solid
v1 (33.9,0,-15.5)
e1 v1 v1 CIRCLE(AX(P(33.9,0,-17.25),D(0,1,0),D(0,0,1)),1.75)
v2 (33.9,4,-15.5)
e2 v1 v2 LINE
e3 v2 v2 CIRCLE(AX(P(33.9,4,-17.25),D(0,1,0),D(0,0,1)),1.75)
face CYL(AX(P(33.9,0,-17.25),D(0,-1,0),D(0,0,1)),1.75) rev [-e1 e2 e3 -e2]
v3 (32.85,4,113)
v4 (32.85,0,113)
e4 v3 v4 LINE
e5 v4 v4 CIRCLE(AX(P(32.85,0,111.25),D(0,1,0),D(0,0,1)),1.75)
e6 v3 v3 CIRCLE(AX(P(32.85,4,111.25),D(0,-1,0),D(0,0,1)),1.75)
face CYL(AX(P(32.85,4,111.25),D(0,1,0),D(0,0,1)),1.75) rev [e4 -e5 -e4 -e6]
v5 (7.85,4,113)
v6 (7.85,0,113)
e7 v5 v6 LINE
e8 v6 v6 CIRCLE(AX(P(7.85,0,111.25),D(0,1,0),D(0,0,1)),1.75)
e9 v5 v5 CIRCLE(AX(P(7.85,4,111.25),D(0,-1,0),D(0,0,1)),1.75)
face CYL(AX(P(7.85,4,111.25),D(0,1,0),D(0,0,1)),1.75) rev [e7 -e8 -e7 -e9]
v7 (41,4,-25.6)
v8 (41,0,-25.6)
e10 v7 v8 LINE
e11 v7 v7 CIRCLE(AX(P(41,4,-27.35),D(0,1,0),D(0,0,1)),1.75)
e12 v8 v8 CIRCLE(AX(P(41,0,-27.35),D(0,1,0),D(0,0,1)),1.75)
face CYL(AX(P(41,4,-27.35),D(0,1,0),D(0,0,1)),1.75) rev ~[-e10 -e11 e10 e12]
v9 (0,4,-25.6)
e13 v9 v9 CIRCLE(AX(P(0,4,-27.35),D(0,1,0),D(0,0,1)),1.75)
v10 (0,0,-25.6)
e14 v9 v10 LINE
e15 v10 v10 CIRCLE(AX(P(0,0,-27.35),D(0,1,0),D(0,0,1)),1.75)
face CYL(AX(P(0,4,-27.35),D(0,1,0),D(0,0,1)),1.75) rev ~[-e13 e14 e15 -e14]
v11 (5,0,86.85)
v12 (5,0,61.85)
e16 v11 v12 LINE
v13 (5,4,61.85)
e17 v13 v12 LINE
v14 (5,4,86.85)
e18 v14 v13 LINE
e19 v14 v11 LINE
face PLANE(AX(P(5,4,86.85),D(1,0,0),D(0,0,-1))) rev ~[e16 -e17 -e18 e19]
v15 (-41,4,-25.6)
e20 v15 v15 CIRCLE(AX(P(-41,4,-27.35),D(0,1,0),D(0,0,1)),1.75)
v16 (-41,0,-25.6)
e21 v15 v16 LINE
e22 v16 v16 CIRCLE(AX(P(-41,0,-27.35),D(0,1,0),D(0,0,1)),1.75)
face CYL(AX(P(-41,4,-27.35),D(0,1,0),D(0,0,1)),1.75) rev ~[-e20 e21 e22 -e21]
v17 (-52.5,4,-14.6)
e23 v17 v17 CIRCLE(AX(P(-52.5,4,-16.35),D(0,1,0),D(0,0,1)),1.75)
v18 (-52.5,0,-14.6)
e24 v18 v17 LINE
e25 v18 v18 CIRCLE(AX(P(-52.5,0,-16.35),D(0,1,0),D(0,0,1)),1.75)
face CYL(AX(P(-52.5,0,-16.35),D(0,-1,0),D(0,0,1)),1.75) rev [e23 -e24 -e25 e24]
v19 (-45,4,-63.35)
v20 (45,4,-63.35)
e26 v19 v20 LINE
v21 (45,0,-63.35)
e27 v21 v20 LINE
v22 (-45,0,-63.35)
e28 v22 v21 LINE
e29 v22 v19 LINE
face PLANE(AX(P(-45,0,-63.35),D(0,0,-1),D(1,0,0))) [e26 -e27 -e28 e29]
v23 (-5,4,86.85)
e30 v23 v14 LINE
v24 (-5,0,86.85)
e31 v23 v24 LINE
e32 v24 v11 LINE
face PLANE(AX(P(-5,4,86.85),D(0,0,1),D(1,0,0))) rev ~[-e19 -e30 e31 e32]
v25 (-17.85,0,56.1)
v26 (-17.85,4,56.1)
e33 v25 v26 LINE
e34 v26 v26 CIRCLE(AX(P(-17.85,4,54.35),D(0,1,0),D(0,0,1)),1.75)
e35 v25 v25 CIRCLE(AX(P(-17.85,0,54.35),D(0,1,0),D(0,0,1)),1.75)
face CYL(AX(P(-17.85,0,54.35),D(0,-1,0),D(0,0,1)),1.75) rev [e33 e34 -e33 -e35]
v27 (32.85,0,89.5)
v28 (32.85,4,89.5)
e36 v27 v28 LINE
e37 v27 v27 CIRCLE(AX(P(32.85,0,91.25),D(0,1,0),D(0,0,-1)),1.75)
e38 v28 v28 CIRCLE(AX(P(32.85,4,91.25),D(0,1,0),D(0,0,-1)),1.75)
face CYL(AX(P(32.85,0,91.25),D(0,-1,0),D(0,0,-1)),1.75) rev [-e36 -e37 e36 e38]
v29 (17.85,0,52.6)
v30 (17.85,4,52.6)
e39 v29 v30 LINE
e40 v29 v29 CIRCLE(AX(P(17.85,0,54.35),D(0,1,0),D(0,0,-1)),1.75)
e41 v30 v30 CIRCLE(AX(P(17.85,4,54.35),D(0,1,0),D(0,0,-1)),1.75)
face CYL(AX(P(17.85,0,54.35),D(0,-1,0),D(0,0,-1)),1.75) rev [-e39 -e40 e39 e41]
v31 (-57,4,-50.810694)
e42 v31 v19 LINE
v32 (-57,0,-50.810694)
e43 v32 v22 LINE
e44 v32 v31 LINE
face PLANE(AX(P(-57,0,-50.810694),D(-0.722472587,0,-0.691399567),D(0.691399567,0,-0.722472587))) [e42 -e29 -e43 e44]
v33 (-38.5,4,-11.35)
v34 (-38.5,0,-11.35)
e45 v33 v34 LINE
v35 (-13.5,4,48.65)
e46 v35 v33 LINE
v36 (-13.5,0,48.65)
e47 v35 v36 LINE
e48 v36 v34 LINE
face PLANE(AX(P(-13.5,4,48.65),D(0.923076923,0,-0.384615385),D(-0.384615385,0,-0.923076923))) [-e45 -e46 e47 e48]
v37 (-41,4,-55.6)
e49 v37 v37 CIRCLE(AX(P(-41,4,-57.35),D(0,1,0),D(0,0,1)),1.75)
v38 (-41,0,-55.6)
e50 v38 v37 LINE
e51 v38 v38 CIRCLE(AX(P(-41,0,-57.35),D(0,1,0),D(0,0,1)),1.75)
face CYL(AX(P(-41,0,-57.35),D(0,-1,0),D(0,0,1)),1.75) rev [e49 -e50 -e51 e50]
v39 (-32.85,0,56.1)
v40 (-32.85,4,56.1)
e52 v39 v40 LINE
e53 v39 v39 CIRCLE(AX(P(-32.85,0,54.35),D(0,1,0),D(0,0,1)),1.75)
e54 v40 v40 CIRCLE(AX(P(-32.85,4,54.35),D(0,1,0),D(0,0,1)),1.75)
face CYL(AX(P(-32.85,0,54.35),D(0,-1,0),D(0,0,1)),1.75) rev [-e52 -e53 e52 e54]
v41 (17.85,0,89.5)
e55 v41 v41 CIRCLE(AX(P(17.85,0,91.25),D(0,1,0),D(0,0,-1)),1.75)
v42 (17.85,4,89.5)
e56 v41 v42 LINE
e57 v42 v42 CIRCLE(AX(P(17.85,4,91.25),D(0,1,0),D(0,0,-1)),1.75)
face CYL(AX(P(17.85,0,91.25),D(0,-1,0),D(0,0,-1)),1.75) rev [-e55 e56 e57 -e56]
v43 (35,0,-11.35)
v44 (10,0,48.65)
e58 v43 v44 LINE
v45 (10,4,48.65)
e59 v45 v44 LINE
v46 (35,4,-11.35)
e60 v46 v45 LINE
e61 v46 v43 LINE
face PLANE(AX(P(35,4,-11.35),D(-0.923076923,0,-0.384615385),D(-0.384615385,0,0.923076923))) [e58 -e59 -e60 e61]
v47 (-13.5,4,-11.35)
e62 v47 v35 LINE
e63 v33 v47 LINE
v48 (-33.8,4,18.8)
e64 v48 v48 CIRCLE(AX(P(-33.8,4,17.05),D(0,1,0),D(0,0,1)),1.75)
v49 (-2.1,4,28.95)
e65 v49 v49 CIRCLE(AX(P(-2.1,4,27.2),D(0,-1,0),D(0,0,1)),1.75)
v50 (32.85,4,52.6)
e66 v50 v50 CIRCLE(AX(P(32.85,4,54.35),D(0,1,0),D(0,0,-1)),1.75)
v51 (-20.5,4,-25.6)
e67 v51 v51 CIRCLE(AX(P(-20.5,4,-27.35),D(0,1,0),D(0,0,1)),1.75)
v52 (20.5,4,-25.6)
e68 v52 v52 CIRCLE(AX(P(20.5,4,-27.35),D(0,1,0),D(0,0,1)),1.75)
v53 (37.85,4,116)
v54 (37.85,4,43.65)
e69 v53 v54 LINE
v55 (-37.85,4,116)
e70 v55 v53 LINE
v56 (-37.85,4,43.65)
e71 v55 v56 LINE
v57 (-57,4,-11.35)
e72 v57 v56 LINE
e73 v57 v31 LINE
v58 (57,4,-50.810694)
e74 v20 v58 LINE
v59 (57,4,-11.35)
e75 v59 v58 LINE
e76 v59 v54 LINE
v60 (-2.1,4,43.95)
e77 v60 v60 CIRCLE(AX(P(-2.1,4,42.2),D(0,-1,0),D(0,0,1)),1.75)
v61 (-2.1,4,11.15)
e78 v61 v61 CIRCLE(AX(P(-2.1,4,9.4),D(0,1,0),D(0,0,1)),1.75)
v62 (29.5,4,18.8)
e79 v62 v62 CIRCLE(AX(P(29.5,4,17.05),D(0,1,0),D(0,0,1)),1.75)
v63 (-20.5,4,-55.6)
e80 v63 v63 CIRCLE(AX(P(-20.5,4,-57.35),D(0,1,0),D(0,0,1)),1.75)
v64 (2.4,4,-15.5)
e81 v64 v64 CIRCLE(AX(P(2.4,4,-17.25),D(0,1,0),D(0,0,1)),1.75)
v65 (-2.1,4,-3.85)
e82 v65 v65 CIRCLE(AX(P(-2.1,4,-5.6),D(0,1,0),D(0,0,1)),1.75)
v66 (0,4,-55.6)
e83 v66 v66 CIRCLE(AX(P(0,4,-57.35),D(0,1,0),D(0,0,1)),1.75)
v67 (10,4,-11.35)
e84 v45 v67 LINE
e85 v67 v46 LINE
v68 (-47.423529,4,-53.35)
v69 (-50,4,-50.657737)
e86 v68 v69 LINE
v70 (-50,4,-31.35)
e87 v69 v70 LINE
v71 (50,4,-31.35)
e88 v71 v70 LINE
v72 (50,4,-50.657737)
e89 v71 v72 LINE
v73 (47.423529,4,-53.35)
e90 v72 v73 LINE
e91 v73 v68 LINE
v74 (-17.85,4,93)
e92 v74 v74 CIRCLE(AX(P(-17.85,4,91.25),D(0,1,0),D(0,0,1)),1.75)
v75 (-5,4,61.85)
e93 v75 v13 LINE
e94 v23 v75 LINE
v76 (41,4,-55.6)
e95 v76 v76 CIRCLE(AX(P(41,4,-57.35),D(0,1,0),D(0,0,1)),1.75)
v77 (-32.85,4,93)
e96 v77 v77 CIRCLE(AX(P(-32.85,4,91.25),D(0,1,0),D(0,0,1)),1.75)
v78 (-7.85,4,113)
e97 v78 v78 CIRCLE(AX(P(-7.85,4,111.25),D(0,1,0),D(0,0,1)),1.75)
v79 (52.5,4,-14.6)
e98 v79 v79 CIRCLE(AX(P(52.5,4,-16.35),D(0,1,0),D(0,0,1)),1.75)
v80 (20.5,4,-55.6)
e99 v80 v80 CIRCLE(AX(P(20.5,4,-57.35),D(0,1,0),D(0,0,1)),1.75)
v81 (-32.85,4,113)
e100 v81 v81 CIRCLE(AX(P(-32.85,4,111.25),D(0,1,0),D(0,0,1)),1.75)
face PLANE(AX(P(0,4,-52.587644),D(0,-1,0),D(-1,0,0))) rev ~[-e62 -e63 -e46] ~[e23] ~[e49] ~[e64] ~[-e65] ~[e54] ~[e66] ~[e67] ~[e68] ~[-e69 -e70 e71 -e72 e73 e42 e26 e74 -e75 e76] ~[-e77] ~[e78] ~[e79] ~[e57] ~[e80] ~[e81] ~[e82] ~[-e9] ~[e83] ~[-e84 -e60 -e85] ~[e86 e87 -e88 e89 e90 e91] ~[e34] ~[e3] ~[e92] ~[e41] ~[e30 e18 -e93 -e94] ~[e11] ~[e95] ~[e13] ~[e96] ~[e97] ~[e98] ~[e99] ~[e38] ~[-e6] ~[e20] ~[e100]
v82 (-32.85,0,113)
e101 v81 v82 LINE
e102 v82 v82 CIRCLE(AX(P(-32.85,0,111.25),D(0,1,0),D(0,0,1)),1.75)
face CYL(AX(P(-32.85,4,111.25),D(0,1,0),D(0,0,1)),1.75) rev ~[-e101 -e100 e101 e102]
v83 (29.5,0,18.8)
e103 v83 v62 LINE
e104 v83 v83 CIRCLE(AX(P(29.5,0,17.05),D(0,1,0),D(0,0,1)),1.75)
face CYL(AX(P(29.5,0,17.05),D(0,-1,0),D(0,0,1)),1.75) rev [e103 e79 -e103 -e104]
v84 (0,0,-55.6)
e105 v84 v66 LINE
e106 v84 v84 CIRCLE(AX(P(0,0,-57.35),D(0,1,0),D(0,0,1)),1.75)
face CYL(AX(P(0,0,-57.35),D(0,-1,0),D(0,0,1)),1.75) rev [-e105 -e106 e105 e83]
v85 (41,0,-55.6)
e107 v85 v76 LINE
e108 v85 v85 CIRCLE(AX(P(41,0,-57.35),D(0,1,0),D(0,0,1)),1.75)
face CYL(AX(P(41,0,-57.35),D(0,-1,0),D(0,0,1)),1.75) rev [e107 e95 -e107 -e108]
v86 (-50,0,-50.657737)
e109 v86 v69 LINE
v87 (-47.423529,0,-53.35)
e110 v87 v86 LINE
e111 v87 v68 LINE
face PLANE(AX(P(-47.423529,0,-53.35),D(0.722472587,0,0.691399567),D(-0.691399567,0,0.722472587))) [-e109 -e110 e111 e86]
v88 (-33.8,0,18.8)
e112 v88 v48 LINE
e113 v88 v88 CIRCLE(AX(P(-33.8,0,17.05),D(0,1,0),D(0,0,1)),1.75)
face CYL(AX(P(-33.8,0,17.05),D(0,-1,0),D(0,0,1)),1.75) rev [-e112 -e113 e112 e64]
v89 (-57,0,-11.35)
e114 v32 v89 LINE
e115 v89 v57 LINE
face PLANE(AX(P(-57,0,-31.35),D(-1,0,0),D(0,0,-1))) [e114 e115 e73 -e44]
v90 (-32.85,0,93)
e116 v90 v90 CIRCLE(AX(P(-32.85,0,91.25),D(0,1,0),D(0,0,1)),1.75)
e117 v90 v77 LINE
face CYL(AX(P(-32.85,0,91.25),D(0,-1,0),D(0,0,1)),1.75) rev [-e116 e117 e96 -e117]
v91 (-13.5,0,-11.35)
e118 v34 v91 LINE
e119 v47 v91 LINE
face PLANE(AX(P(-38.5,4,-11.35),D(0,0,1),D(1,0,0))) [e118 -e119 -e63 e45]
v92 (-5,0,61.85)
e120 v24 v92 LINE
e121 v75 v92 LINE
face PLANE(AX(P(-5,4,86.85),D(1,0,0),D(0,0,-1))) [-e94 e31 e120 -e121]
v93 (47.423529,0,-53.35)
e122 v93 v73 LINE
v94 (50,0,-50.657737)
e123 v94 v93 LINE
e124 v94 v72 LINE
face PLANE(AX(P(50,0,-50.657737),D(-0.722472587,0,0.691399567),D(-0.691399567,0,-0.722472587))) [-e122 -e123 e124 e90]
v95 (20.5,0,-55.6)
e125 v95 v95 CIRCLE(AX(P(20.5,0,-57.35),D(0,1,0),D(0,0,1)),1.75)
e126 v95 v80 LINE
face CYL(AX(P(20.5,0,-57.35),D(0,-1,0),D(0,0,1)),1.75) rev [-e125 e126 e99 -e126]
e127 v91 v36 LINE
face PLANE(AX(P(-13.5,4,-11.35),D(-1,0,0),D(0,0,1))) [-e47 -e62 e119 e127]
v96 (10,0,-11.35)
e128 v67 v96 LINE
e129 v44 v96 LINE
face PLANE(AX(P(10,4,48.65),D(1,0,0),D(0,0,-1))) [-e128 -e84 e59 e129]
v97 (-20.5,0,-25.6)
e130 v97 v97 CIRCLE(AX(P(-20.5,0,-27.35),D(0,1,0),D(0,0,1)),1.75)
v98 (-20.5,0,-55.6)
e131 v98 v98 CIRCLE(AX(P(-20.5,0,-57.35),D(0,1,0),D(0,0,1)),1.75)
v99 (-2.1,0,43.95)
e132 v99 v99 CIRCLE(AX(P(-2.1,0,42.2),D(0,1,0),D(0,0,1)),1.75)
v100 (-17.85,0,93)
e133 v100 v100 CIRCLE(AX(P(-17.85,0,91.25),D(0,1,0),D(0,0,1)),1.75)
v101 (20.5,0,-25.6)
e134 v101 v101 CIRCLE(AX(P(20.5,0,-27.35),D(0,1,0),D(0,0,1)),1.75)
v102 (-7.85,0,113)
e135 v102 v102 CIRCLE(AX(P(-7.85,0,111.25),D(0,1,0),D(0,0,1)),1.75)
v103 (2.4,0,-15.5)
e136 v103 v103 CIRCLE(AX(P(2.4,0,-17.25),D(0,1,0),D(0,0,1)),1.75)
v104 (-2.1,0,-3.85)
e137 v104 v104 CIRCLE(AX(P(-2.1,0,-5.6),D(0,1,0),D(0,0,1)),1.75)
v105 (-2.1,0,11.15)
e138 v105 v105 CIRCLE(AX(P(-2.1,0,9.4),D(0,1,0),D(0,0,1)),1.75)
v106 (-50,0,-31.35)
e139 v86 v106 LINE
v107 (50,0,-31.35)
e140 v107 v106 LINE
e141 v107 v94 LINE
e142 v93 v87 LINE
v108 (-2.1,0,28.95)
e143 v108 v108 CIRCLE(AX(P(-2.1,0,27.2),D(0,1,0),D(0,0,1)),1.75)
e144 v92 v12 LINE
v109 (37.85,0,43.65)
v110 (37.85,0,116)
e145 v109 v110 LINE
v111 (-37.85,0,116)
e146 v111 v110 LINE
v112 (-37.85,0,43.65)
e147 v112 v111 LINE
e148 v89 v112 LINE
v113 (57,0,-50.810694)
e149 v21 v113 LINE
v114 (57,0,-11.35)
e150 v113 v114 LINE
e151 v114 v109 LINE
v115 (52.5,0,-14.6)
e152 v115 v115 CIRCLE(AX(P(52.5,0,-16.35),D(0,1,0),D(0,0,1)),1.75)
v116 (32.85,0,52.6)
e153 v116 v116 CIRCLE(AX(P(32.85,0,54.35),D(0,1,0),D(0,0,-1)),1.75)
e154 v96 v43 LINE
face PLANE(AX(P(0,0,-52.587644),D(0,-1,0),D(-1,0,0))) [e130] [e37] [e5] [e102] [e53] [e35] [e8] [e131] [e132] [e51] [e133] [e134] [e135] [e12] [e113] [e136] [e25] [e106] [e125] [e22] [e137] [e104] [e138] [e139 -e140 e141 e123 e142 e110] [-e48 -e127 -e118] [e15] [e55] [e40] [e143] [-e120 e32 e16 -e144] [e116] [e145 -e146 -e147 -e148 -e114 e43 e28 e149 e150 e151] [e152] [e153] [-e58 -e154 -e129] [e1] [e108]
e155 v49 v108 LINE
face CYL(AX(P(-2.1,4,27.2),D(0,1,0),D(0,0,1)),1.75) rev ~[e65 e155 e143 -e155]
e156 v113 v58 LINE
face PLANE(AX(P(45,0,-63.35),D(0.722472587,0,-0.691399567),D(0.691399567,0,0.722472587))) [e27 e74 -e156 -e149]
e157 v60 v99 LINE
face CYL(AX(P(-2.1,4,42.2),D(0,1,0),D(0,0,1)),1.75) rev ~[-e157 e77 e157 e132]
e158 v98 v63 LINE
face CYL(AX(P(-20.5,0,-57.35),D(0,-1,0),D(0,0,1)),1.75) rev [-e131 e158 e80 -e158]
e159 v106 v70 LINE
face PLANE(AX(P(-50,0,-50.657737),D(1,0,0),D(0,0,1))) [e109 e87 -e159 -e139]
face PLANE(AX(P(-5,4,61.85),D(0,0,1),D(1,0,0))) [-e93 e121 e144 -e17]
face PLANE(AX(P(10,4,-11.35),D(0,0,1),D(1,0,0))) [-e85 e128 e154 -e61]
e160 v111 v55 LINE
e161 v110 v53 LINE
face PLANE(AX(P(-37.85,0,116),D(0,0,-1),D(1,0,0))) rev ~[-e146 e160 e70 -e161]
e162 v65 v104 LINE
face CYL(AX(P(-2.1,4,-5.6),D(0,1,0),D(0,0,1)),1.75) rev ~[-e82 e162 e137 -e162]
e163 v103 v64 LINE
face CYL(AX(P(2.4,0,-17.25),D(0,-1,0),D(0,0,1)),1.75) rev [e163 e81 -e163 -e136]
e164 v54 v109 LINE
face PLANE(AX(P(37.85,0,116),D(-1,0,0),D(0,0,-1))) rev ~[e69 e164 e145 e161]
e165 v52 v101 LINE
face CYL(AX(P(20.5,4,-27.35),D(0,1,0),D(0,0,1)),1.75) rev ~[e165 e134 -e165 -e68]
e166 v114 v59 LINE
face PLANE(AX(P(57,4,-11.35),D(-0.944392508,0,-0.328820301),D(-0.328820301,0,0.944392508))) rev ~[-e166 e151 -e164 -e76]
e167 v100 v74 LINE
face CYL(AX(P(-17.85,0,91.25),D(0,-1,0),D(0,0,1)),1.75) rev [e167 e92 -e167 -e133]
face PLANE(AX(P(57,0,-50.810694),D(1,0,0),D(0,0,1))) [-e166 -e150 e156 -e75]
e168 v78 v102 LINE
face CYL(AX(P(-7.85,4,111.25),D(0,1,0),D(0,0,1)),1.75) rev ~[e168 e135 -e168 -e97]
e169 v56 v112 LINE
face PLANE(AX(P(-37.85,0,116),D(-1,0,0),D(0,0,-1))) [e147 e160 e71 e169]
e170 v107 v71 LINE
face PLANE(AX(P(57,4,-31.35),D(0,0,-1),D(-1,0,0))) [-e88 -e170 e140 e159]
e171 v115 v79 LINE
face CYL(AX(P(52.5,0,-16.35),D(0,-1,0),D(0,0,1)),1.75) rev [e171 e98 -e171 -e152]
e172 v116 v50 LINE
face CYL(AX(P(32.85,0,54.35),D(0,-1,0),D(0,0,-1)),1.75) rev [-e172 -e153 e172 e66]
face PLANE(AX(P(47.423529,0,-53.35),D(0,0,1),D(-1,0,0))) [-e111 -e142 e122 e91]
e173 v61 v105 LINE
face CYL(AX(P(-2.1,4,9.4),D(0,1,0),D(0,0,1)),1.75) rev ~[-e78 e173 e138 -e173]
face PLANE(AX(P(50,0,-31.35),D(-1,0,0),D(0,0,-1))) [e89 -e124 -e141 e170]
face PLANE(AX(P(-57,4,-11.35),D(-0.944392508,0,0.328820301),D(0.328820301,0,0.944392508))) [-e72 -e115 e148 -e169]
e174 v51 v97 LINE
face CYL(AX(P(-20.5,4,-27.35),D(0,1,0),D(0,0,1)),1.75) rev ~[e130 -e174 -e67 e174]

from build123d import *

# Parameters (mm, degrees)
SKETCH1_W           = 75.7
SKETCH1_H           = 42.7
SKETCH1_R           = 1.75
BOSS_EXTRUDE1_DEPTH = 4
SKETCH3_W           = 75.7
SKETCH3_H           = 29.75
SKETCH3_R           = 1.75
BOSS_EXTRUDE2_DEPTH = 4
SKETCH3_3_R         = 1.75
CUT_EXTRUDE1_DEPTH  = 4
SKETCH4_W           = 75.7
SKETCH4_H           = 43.4
SKETCH4_R           = 1.75
BOSS_EXTRUDE3_DEPTH = 4
BOSS_EXTRUDE4_DEPTH = 4
SKETCH6_3_R         = 1.75
CUT_EXTRUDE2_DEPTH  = 111.432105839
SKETCH7_W           = 19.15
SKETCH7_H           = 10
SKETCH7_R           = 1.75
BOSS_EXTRUDE5_DEPTH = 4
SKETCH8_W           = 75.7
SKETCH8_H           = 21.5
BOSS_EXTRUDE6_DEPTH = 4
SKETCH9_R           = 1.75
CUT_EXTRUDE3_DEPTH  = 130.309705746
BOSS_EXTRUDE7_DEPTH = 4
CUT_EXTRUDE4_DEPTH  = 4
SKETCH12_W          = 10
SKETCH12_H          = 25
CUT_EXTRUDE5_DEPTH  = 10
SKETCH13_R          = 1.75
BOSS_EXTRUDE8_DEPTH = 4


with BuildPart() as part:
    # Sketch1 → Boss-Extrude1 (new body)
    with BuildSketch(Plane(origin=(0, 0, 0), x_dir=(1, 0, 0), z_dir=(0, 1, 0))):
        Rectangle(SKETCH1_W, SKETCH1_H)
        with Locations(Location((2.4, 17.25, 0), (0, 0, 270))):
            Circle(SKETCH1_R, mode=Mode.SUBTRACT)
        with Locations(Location((-33.8, -17.05, 0), (0, 0, 270))):
            Circle(SKETCH1_R, mode=Mode.SUBTRACT)
        with Locations(Location((29.5, -17.05, 0), (0, 0, 270))):
            Circle(SKETCH1_R, mode=Mode.SUBTRACT)
        with Locations(Location((33.9, 17.25, 0), (0, 0, 270))):
            Circle(SKETCH1_R, mode=Mode.SUBTRACT)
    extrude(amount=BOSS_EXTRUDE1_DEPTH)

    # Sketch3 → Boss-Extrude2 (add)
    # profile 1 of 2: a face of its own
    with BuildSketch(Plane(origin=(0, 4, 0), x_dir=(1, 0, 0), z_dir=(0, 1, 0))):
        with Locations((0, -36.225)):
            Rectangle(SKETCH3_W, SKETCH3_H)
        with Locations(Location((-2.1, -42.2, 0), (0, 0, 270))):
            Circle(SKETCH3_R, mode=Mode.SUBTRACT)
        with Locations(Location((-2.1, -27.2, 0), (0, 0, 270))):
            Circle(SKETCH3_R, mode=Mode.SUBTRACT)
    # profile 2 of 2: a face of its own
    with BuildSketch(Plane(origin=(0, 4, 0), x_dir=(1, 0, 0), z_dir=(0, 1, 0))):
        with BuildLine():
            Line((-2.1, -25.45), (-2.1, -21.35))
            Line((-2.1, -21.35), (-37.85, -21.35))
            Line((-37.85, -21.35), (-37.85, -51.1))
            Line((-37.85, -51.1), (-2.1, -51.1))
            Line((-2.1, -51.1), (-2.1, -43.95))
            ThreePointArc((-2.1, -43.95), (-3.85, -42.2), (-2.1, -40.45))
            Line((-2.1, -40.45), (-2.1, -28.95))
            ThreePointArc((-2.1, -28.95), (-3.85, -27.2), (-2.1, -25.45))
        make_face()
    extrude(amount=-BOSS_EXTRUDE2_DEPTH)

    # Sketch3<3> → Cut-Extrude1 (cut)
    with BuildSketch(Plane(origin=(0, 4, 0), x_dir=(1, 0, 0), z_dir=(0, 1, 0))):
        with Locations(Location((-2.1, 5.6, 0), (0, 0, 270))):
            Circle(SKETCH3_3_R)
        with Locations(Location((-2.1, -9.4, 0), (0, 0, 270))):
            Circle(SKETCH3_3_R)
    extrude(amount=-CUT_EXTRUDE1_DEPTH, mode=Mode.SUBTRACT)

    # Sketch4 → Boss-Extrude3 (add)
    # profile 1 of 2: a face of its own
    with BuildSketch(Plane(origin=(0, 0, 0), x_dir=(1, 0, 0), z_dir=(0, 1, 0))):
        with Locations((0, -72.8)):
            Rectangle(SKETCH4_W, SKETCH4_H)
        with Locations(Location((-32.85, -54.35, 0), (0, 0, 270))):
            Circle(SKETCH4_R, mode=Mode.SUBTRACT)
        with Locations(Location((-17.85, -54.35, 0), (0, 0, 270))):
            Circle(SKETCH4_R, mode=Mode.SUBTRACT)
        with Locations(Location((-17.85, -91.25, 0), (0, 0, 270))):
            Circle(SKETCH4_R, mode=Mode.SUBTRACT)
        with Locations(Location((-32.85, -91.25, 0), (0, 0, 270))):
            Circle(SKETCH4_R, mode=Mode.SUBTRACT)
        with Locations(Location((32.85, -91.25, 0), (0, 0, 90))):
            Circle(SKETCH4_R, mode=Mode.SUBTRACT)
        with Locations(Location((17.85, -91.25, 0), (0, 0, 90))):
            Circle(SKETCH4_R, mode=Mode.SUBTRACT)
        with Locations(Location((17.85, -54.35, 0), (0, 0, 90))):
            Circle(SKETCH4_R, mode=Mode.SUBTRACT)
        with Locations(Location((32.85, -54.35, 0), (0, 0, 90))):
            Circle(SKETCH4_R, mode=Mode.SUBTRACT)
    # profile 2 of 2: a face of its own
    with BuildSketch(Plane(origin=(0, 0, 0), x_dir=(1, 0, 0), z_dir=(0, 1, 0))):
        Polygon((-37.85, 21.35), (-44, 21.35), (-44, 29.35), (44, 29.35), (44, 21.35), (37.85, 21.35), align=None)
    extrude(amount=BOSS_EXTRUDE3_DEPTH)

    # Sketch6 → Boss-Extrude4 (add)
    with BuildSketch(Plane(origin=(0, 4, 0), x_dir=(1, 0, 0), z_dir=(0, 1, 0))):
        Polygon((-57, 31.35), (-57, 29.35), (-57, 21.35), (-44, 21.35), (-44, 26.251387819), (-44, 29.35), (44, 29.35), (44, 26.251387819), (44, 21.35), (57, 21.35), (57, 29.35), (57, 31.35), align=None)
    extrude(amount=-BOSS_EXTRUDE4_DEPTH)

    # Sketch6<3> → Cut-Extrude2 (cut, through all)
    with BuildSketch(Plane(origin=(0, 4, 0), x_dir=(1, 0, 0), z_dir=(0, 1, 0))):
        with Locations(Location((0, 27.35, 0), (0, 0, 270))):
            Circle(SKETCH6_3_R)
        with Locations(Location((20.5, 27.35, 0), (0, 0, 270))):
            Circle(SKETCH6_3_R)
        with Locations(Location((41, 27.35, 0), (0, 0, 270))):
            Circle(SKETCH6_3_R)
        with Locations(Location((-20.5, 27.35, 0), (0, 0, 270))):
            Circle(SKETCH6_3_R)
        with Locations(Location((-41, 27.35, 0), (0, 0, 270))):
            Circle(SKETCH6_3_R)
    extrude(amount=-CUT_EXTRUDE2_DEPTH, mode=Mode.SUBTRACT)

    # Sketch7 → Boss-Extrude5 (add)
    # profile 1 of 2: a face of its own
    with BuildSketch(Plane(origin=(0, 0, 0), x_dir=(1, 0, 0), z_dir=(0, 1, 0))):
        with Locations((-47.425, 16.35)):
            Rectangle(SKETCH7_W, SKETCH7_H)
        with Locations(Location((-52.5, 16.35, 0), (0, 0, 270))):
            Circle(SKETCH7_R, mode=Mode.SUBTRACT)
    # profile 2 of 2: a face of its own
    with BuildSketch(Plane(origin=(0, 0, 0), x_dir=(1, 0, 0), z_dir=(0, 1, 0))):
        with Locations((47.425, 16.35)):
            Rectangle(SKETCH7_W, SKETCH7_H)
        with Locations(Location((52.5, 16.35, 0), (0, 0, 270))):
            Circle(SKETCH7_R, mode=Mode.SUBTRACT)
    extrude(amount=BOSS_EXTRUDE5_DEPTH)

    # Sketch8 → Boss-Extrude6 (add)
    with BuildSketch(Plane(origin=(0, 0, 0), x_dir=(1, 0, 0), z_dir=(0, 1, 0))):
        with Locations((0, -105.25)):
            Rectangle(SKETCH8_W, SKETCH8_H)
    extrude(amount=BOSS_EXTRUDE6_DEPTH)

    # Sketch9 → Cut-Extrude3 (cut, through all)
    with BuildSketch(Plane(origin=(0, 4, 0), x_dir=(1, 0, 0), z_dir=(0, 1, 0))):
        with Locations(Location((-7.85, -111.25, 0), (0, 0, 270))):
            Circle(SKETCH9_R)
        with Locations(Location((-32.85, -111.25, 0), (0, 0, 270))):
            Circle(SKETCH9_R)
    cut_extrude3 = extrude(amount=-CUT_EXTRUDE3_DEPTH, mode=Mode.SUBTRACT)

    # Mirror1: Cut-Extrude3 across plane
    add(cut_extrude3.mirror(Plane(origin=(0, 0, 0), x_dir=(0, 0, 1), z_dir=(1, 0, 0))), mode=Mode.SUBTRACT)

    # Sketch10 → Boss-Extrude7 (add)
    with BuildSketch(Plane(origin=(0, 4, 0), x_dir=(1, 0, 0), z_dir=(0, 1, 0))):
        Polygon((-57, 11.35), (-37.85, -43.65), (-37.85, 11.35), align=None)
        Polygon((57, 11.35), (37.85, -43.65), (37.85, 11.35), align=None)
    extrude(amount=-BOSS_EXTRUDE7_DEPTH)

    # Sketch11 → Cut-Extrude4 (cut)
    with BuildSketch(Plane(origin=(0, 4, 0), x_dir=(1, 0, 0), z_dir=(0, 1, 0))):
        Polygon((-38.5, 11.35), (-13.5, 11.35), (-13.5, -48.65), align=None)
        Polygon((10, 11.35), (35, 11.35), (10, -48.65), align=None)
    extrude(amount=-CUT_EXTRUDE4_DEPTH, mode=Mode.SUBTRACT)

    # Sketch12 → Cut-Extrude5 (cut)
    with BuildSketch(Plane(origin=(0, 4, 0), x_dir=(1, 0, 0), z_dir=(0, 1, 0))):
        with Locations((0, -74.35)):
            Rectangle(SKETCH12_W, SKETCH12_H)
    extrude(amount=-CUT_EXTRUDE5_DEPTH, mode=Mode.SUBTRACT)

    # Sketch13 → Boss-Extrude8 (add)
    with BuildSketch(Plane(origin=(0, 0, 0), x_dir=(1, 0, 0), z_dir=(0, 1, 0))):
        Polygon((-57, 31.35), (-57, 50.810693545), (-45, 63.35), (45, 63.35), (57, 50.810693545), (57, 31.35), (50, 31.35), (50, 50.657737172), (47.423529439, 53.35), (-47.423529439, 53.35), (-50, 50.657737172), (-50, 31.35), align=None)
        with Locations(Location((-41, 57.35, 0), (0, 0, 270))):
            Circle(SKETCH13_R, mode=Mode.SUBTRACT)
        with Locations(Location((-20.5, 57.35, 0), (0, 0, 270))):
            Circle(SKETCH13_R, mode=Mode.SUBTRACT)
        with Locations(Location((0, 57.35, 0), (0, 0, 270))):
            Circle(SKETCH13_R, mode=Mode.SUBTRACT)
        with Locations(Location((20.5, 57.35, 0), (0, 0, 270))):
            Circle(SKETCH13_R, mode=Mode.SUBTRACT)
        with Locations(Location((41, 57.35, 0), (0, 0, 270))):
            Circle(SKETCH13_R, mode=Mode.SUBTRACT)
    extrude(amount=BOSS_EXTRUDE8_DEPTH)


solid = part.part
